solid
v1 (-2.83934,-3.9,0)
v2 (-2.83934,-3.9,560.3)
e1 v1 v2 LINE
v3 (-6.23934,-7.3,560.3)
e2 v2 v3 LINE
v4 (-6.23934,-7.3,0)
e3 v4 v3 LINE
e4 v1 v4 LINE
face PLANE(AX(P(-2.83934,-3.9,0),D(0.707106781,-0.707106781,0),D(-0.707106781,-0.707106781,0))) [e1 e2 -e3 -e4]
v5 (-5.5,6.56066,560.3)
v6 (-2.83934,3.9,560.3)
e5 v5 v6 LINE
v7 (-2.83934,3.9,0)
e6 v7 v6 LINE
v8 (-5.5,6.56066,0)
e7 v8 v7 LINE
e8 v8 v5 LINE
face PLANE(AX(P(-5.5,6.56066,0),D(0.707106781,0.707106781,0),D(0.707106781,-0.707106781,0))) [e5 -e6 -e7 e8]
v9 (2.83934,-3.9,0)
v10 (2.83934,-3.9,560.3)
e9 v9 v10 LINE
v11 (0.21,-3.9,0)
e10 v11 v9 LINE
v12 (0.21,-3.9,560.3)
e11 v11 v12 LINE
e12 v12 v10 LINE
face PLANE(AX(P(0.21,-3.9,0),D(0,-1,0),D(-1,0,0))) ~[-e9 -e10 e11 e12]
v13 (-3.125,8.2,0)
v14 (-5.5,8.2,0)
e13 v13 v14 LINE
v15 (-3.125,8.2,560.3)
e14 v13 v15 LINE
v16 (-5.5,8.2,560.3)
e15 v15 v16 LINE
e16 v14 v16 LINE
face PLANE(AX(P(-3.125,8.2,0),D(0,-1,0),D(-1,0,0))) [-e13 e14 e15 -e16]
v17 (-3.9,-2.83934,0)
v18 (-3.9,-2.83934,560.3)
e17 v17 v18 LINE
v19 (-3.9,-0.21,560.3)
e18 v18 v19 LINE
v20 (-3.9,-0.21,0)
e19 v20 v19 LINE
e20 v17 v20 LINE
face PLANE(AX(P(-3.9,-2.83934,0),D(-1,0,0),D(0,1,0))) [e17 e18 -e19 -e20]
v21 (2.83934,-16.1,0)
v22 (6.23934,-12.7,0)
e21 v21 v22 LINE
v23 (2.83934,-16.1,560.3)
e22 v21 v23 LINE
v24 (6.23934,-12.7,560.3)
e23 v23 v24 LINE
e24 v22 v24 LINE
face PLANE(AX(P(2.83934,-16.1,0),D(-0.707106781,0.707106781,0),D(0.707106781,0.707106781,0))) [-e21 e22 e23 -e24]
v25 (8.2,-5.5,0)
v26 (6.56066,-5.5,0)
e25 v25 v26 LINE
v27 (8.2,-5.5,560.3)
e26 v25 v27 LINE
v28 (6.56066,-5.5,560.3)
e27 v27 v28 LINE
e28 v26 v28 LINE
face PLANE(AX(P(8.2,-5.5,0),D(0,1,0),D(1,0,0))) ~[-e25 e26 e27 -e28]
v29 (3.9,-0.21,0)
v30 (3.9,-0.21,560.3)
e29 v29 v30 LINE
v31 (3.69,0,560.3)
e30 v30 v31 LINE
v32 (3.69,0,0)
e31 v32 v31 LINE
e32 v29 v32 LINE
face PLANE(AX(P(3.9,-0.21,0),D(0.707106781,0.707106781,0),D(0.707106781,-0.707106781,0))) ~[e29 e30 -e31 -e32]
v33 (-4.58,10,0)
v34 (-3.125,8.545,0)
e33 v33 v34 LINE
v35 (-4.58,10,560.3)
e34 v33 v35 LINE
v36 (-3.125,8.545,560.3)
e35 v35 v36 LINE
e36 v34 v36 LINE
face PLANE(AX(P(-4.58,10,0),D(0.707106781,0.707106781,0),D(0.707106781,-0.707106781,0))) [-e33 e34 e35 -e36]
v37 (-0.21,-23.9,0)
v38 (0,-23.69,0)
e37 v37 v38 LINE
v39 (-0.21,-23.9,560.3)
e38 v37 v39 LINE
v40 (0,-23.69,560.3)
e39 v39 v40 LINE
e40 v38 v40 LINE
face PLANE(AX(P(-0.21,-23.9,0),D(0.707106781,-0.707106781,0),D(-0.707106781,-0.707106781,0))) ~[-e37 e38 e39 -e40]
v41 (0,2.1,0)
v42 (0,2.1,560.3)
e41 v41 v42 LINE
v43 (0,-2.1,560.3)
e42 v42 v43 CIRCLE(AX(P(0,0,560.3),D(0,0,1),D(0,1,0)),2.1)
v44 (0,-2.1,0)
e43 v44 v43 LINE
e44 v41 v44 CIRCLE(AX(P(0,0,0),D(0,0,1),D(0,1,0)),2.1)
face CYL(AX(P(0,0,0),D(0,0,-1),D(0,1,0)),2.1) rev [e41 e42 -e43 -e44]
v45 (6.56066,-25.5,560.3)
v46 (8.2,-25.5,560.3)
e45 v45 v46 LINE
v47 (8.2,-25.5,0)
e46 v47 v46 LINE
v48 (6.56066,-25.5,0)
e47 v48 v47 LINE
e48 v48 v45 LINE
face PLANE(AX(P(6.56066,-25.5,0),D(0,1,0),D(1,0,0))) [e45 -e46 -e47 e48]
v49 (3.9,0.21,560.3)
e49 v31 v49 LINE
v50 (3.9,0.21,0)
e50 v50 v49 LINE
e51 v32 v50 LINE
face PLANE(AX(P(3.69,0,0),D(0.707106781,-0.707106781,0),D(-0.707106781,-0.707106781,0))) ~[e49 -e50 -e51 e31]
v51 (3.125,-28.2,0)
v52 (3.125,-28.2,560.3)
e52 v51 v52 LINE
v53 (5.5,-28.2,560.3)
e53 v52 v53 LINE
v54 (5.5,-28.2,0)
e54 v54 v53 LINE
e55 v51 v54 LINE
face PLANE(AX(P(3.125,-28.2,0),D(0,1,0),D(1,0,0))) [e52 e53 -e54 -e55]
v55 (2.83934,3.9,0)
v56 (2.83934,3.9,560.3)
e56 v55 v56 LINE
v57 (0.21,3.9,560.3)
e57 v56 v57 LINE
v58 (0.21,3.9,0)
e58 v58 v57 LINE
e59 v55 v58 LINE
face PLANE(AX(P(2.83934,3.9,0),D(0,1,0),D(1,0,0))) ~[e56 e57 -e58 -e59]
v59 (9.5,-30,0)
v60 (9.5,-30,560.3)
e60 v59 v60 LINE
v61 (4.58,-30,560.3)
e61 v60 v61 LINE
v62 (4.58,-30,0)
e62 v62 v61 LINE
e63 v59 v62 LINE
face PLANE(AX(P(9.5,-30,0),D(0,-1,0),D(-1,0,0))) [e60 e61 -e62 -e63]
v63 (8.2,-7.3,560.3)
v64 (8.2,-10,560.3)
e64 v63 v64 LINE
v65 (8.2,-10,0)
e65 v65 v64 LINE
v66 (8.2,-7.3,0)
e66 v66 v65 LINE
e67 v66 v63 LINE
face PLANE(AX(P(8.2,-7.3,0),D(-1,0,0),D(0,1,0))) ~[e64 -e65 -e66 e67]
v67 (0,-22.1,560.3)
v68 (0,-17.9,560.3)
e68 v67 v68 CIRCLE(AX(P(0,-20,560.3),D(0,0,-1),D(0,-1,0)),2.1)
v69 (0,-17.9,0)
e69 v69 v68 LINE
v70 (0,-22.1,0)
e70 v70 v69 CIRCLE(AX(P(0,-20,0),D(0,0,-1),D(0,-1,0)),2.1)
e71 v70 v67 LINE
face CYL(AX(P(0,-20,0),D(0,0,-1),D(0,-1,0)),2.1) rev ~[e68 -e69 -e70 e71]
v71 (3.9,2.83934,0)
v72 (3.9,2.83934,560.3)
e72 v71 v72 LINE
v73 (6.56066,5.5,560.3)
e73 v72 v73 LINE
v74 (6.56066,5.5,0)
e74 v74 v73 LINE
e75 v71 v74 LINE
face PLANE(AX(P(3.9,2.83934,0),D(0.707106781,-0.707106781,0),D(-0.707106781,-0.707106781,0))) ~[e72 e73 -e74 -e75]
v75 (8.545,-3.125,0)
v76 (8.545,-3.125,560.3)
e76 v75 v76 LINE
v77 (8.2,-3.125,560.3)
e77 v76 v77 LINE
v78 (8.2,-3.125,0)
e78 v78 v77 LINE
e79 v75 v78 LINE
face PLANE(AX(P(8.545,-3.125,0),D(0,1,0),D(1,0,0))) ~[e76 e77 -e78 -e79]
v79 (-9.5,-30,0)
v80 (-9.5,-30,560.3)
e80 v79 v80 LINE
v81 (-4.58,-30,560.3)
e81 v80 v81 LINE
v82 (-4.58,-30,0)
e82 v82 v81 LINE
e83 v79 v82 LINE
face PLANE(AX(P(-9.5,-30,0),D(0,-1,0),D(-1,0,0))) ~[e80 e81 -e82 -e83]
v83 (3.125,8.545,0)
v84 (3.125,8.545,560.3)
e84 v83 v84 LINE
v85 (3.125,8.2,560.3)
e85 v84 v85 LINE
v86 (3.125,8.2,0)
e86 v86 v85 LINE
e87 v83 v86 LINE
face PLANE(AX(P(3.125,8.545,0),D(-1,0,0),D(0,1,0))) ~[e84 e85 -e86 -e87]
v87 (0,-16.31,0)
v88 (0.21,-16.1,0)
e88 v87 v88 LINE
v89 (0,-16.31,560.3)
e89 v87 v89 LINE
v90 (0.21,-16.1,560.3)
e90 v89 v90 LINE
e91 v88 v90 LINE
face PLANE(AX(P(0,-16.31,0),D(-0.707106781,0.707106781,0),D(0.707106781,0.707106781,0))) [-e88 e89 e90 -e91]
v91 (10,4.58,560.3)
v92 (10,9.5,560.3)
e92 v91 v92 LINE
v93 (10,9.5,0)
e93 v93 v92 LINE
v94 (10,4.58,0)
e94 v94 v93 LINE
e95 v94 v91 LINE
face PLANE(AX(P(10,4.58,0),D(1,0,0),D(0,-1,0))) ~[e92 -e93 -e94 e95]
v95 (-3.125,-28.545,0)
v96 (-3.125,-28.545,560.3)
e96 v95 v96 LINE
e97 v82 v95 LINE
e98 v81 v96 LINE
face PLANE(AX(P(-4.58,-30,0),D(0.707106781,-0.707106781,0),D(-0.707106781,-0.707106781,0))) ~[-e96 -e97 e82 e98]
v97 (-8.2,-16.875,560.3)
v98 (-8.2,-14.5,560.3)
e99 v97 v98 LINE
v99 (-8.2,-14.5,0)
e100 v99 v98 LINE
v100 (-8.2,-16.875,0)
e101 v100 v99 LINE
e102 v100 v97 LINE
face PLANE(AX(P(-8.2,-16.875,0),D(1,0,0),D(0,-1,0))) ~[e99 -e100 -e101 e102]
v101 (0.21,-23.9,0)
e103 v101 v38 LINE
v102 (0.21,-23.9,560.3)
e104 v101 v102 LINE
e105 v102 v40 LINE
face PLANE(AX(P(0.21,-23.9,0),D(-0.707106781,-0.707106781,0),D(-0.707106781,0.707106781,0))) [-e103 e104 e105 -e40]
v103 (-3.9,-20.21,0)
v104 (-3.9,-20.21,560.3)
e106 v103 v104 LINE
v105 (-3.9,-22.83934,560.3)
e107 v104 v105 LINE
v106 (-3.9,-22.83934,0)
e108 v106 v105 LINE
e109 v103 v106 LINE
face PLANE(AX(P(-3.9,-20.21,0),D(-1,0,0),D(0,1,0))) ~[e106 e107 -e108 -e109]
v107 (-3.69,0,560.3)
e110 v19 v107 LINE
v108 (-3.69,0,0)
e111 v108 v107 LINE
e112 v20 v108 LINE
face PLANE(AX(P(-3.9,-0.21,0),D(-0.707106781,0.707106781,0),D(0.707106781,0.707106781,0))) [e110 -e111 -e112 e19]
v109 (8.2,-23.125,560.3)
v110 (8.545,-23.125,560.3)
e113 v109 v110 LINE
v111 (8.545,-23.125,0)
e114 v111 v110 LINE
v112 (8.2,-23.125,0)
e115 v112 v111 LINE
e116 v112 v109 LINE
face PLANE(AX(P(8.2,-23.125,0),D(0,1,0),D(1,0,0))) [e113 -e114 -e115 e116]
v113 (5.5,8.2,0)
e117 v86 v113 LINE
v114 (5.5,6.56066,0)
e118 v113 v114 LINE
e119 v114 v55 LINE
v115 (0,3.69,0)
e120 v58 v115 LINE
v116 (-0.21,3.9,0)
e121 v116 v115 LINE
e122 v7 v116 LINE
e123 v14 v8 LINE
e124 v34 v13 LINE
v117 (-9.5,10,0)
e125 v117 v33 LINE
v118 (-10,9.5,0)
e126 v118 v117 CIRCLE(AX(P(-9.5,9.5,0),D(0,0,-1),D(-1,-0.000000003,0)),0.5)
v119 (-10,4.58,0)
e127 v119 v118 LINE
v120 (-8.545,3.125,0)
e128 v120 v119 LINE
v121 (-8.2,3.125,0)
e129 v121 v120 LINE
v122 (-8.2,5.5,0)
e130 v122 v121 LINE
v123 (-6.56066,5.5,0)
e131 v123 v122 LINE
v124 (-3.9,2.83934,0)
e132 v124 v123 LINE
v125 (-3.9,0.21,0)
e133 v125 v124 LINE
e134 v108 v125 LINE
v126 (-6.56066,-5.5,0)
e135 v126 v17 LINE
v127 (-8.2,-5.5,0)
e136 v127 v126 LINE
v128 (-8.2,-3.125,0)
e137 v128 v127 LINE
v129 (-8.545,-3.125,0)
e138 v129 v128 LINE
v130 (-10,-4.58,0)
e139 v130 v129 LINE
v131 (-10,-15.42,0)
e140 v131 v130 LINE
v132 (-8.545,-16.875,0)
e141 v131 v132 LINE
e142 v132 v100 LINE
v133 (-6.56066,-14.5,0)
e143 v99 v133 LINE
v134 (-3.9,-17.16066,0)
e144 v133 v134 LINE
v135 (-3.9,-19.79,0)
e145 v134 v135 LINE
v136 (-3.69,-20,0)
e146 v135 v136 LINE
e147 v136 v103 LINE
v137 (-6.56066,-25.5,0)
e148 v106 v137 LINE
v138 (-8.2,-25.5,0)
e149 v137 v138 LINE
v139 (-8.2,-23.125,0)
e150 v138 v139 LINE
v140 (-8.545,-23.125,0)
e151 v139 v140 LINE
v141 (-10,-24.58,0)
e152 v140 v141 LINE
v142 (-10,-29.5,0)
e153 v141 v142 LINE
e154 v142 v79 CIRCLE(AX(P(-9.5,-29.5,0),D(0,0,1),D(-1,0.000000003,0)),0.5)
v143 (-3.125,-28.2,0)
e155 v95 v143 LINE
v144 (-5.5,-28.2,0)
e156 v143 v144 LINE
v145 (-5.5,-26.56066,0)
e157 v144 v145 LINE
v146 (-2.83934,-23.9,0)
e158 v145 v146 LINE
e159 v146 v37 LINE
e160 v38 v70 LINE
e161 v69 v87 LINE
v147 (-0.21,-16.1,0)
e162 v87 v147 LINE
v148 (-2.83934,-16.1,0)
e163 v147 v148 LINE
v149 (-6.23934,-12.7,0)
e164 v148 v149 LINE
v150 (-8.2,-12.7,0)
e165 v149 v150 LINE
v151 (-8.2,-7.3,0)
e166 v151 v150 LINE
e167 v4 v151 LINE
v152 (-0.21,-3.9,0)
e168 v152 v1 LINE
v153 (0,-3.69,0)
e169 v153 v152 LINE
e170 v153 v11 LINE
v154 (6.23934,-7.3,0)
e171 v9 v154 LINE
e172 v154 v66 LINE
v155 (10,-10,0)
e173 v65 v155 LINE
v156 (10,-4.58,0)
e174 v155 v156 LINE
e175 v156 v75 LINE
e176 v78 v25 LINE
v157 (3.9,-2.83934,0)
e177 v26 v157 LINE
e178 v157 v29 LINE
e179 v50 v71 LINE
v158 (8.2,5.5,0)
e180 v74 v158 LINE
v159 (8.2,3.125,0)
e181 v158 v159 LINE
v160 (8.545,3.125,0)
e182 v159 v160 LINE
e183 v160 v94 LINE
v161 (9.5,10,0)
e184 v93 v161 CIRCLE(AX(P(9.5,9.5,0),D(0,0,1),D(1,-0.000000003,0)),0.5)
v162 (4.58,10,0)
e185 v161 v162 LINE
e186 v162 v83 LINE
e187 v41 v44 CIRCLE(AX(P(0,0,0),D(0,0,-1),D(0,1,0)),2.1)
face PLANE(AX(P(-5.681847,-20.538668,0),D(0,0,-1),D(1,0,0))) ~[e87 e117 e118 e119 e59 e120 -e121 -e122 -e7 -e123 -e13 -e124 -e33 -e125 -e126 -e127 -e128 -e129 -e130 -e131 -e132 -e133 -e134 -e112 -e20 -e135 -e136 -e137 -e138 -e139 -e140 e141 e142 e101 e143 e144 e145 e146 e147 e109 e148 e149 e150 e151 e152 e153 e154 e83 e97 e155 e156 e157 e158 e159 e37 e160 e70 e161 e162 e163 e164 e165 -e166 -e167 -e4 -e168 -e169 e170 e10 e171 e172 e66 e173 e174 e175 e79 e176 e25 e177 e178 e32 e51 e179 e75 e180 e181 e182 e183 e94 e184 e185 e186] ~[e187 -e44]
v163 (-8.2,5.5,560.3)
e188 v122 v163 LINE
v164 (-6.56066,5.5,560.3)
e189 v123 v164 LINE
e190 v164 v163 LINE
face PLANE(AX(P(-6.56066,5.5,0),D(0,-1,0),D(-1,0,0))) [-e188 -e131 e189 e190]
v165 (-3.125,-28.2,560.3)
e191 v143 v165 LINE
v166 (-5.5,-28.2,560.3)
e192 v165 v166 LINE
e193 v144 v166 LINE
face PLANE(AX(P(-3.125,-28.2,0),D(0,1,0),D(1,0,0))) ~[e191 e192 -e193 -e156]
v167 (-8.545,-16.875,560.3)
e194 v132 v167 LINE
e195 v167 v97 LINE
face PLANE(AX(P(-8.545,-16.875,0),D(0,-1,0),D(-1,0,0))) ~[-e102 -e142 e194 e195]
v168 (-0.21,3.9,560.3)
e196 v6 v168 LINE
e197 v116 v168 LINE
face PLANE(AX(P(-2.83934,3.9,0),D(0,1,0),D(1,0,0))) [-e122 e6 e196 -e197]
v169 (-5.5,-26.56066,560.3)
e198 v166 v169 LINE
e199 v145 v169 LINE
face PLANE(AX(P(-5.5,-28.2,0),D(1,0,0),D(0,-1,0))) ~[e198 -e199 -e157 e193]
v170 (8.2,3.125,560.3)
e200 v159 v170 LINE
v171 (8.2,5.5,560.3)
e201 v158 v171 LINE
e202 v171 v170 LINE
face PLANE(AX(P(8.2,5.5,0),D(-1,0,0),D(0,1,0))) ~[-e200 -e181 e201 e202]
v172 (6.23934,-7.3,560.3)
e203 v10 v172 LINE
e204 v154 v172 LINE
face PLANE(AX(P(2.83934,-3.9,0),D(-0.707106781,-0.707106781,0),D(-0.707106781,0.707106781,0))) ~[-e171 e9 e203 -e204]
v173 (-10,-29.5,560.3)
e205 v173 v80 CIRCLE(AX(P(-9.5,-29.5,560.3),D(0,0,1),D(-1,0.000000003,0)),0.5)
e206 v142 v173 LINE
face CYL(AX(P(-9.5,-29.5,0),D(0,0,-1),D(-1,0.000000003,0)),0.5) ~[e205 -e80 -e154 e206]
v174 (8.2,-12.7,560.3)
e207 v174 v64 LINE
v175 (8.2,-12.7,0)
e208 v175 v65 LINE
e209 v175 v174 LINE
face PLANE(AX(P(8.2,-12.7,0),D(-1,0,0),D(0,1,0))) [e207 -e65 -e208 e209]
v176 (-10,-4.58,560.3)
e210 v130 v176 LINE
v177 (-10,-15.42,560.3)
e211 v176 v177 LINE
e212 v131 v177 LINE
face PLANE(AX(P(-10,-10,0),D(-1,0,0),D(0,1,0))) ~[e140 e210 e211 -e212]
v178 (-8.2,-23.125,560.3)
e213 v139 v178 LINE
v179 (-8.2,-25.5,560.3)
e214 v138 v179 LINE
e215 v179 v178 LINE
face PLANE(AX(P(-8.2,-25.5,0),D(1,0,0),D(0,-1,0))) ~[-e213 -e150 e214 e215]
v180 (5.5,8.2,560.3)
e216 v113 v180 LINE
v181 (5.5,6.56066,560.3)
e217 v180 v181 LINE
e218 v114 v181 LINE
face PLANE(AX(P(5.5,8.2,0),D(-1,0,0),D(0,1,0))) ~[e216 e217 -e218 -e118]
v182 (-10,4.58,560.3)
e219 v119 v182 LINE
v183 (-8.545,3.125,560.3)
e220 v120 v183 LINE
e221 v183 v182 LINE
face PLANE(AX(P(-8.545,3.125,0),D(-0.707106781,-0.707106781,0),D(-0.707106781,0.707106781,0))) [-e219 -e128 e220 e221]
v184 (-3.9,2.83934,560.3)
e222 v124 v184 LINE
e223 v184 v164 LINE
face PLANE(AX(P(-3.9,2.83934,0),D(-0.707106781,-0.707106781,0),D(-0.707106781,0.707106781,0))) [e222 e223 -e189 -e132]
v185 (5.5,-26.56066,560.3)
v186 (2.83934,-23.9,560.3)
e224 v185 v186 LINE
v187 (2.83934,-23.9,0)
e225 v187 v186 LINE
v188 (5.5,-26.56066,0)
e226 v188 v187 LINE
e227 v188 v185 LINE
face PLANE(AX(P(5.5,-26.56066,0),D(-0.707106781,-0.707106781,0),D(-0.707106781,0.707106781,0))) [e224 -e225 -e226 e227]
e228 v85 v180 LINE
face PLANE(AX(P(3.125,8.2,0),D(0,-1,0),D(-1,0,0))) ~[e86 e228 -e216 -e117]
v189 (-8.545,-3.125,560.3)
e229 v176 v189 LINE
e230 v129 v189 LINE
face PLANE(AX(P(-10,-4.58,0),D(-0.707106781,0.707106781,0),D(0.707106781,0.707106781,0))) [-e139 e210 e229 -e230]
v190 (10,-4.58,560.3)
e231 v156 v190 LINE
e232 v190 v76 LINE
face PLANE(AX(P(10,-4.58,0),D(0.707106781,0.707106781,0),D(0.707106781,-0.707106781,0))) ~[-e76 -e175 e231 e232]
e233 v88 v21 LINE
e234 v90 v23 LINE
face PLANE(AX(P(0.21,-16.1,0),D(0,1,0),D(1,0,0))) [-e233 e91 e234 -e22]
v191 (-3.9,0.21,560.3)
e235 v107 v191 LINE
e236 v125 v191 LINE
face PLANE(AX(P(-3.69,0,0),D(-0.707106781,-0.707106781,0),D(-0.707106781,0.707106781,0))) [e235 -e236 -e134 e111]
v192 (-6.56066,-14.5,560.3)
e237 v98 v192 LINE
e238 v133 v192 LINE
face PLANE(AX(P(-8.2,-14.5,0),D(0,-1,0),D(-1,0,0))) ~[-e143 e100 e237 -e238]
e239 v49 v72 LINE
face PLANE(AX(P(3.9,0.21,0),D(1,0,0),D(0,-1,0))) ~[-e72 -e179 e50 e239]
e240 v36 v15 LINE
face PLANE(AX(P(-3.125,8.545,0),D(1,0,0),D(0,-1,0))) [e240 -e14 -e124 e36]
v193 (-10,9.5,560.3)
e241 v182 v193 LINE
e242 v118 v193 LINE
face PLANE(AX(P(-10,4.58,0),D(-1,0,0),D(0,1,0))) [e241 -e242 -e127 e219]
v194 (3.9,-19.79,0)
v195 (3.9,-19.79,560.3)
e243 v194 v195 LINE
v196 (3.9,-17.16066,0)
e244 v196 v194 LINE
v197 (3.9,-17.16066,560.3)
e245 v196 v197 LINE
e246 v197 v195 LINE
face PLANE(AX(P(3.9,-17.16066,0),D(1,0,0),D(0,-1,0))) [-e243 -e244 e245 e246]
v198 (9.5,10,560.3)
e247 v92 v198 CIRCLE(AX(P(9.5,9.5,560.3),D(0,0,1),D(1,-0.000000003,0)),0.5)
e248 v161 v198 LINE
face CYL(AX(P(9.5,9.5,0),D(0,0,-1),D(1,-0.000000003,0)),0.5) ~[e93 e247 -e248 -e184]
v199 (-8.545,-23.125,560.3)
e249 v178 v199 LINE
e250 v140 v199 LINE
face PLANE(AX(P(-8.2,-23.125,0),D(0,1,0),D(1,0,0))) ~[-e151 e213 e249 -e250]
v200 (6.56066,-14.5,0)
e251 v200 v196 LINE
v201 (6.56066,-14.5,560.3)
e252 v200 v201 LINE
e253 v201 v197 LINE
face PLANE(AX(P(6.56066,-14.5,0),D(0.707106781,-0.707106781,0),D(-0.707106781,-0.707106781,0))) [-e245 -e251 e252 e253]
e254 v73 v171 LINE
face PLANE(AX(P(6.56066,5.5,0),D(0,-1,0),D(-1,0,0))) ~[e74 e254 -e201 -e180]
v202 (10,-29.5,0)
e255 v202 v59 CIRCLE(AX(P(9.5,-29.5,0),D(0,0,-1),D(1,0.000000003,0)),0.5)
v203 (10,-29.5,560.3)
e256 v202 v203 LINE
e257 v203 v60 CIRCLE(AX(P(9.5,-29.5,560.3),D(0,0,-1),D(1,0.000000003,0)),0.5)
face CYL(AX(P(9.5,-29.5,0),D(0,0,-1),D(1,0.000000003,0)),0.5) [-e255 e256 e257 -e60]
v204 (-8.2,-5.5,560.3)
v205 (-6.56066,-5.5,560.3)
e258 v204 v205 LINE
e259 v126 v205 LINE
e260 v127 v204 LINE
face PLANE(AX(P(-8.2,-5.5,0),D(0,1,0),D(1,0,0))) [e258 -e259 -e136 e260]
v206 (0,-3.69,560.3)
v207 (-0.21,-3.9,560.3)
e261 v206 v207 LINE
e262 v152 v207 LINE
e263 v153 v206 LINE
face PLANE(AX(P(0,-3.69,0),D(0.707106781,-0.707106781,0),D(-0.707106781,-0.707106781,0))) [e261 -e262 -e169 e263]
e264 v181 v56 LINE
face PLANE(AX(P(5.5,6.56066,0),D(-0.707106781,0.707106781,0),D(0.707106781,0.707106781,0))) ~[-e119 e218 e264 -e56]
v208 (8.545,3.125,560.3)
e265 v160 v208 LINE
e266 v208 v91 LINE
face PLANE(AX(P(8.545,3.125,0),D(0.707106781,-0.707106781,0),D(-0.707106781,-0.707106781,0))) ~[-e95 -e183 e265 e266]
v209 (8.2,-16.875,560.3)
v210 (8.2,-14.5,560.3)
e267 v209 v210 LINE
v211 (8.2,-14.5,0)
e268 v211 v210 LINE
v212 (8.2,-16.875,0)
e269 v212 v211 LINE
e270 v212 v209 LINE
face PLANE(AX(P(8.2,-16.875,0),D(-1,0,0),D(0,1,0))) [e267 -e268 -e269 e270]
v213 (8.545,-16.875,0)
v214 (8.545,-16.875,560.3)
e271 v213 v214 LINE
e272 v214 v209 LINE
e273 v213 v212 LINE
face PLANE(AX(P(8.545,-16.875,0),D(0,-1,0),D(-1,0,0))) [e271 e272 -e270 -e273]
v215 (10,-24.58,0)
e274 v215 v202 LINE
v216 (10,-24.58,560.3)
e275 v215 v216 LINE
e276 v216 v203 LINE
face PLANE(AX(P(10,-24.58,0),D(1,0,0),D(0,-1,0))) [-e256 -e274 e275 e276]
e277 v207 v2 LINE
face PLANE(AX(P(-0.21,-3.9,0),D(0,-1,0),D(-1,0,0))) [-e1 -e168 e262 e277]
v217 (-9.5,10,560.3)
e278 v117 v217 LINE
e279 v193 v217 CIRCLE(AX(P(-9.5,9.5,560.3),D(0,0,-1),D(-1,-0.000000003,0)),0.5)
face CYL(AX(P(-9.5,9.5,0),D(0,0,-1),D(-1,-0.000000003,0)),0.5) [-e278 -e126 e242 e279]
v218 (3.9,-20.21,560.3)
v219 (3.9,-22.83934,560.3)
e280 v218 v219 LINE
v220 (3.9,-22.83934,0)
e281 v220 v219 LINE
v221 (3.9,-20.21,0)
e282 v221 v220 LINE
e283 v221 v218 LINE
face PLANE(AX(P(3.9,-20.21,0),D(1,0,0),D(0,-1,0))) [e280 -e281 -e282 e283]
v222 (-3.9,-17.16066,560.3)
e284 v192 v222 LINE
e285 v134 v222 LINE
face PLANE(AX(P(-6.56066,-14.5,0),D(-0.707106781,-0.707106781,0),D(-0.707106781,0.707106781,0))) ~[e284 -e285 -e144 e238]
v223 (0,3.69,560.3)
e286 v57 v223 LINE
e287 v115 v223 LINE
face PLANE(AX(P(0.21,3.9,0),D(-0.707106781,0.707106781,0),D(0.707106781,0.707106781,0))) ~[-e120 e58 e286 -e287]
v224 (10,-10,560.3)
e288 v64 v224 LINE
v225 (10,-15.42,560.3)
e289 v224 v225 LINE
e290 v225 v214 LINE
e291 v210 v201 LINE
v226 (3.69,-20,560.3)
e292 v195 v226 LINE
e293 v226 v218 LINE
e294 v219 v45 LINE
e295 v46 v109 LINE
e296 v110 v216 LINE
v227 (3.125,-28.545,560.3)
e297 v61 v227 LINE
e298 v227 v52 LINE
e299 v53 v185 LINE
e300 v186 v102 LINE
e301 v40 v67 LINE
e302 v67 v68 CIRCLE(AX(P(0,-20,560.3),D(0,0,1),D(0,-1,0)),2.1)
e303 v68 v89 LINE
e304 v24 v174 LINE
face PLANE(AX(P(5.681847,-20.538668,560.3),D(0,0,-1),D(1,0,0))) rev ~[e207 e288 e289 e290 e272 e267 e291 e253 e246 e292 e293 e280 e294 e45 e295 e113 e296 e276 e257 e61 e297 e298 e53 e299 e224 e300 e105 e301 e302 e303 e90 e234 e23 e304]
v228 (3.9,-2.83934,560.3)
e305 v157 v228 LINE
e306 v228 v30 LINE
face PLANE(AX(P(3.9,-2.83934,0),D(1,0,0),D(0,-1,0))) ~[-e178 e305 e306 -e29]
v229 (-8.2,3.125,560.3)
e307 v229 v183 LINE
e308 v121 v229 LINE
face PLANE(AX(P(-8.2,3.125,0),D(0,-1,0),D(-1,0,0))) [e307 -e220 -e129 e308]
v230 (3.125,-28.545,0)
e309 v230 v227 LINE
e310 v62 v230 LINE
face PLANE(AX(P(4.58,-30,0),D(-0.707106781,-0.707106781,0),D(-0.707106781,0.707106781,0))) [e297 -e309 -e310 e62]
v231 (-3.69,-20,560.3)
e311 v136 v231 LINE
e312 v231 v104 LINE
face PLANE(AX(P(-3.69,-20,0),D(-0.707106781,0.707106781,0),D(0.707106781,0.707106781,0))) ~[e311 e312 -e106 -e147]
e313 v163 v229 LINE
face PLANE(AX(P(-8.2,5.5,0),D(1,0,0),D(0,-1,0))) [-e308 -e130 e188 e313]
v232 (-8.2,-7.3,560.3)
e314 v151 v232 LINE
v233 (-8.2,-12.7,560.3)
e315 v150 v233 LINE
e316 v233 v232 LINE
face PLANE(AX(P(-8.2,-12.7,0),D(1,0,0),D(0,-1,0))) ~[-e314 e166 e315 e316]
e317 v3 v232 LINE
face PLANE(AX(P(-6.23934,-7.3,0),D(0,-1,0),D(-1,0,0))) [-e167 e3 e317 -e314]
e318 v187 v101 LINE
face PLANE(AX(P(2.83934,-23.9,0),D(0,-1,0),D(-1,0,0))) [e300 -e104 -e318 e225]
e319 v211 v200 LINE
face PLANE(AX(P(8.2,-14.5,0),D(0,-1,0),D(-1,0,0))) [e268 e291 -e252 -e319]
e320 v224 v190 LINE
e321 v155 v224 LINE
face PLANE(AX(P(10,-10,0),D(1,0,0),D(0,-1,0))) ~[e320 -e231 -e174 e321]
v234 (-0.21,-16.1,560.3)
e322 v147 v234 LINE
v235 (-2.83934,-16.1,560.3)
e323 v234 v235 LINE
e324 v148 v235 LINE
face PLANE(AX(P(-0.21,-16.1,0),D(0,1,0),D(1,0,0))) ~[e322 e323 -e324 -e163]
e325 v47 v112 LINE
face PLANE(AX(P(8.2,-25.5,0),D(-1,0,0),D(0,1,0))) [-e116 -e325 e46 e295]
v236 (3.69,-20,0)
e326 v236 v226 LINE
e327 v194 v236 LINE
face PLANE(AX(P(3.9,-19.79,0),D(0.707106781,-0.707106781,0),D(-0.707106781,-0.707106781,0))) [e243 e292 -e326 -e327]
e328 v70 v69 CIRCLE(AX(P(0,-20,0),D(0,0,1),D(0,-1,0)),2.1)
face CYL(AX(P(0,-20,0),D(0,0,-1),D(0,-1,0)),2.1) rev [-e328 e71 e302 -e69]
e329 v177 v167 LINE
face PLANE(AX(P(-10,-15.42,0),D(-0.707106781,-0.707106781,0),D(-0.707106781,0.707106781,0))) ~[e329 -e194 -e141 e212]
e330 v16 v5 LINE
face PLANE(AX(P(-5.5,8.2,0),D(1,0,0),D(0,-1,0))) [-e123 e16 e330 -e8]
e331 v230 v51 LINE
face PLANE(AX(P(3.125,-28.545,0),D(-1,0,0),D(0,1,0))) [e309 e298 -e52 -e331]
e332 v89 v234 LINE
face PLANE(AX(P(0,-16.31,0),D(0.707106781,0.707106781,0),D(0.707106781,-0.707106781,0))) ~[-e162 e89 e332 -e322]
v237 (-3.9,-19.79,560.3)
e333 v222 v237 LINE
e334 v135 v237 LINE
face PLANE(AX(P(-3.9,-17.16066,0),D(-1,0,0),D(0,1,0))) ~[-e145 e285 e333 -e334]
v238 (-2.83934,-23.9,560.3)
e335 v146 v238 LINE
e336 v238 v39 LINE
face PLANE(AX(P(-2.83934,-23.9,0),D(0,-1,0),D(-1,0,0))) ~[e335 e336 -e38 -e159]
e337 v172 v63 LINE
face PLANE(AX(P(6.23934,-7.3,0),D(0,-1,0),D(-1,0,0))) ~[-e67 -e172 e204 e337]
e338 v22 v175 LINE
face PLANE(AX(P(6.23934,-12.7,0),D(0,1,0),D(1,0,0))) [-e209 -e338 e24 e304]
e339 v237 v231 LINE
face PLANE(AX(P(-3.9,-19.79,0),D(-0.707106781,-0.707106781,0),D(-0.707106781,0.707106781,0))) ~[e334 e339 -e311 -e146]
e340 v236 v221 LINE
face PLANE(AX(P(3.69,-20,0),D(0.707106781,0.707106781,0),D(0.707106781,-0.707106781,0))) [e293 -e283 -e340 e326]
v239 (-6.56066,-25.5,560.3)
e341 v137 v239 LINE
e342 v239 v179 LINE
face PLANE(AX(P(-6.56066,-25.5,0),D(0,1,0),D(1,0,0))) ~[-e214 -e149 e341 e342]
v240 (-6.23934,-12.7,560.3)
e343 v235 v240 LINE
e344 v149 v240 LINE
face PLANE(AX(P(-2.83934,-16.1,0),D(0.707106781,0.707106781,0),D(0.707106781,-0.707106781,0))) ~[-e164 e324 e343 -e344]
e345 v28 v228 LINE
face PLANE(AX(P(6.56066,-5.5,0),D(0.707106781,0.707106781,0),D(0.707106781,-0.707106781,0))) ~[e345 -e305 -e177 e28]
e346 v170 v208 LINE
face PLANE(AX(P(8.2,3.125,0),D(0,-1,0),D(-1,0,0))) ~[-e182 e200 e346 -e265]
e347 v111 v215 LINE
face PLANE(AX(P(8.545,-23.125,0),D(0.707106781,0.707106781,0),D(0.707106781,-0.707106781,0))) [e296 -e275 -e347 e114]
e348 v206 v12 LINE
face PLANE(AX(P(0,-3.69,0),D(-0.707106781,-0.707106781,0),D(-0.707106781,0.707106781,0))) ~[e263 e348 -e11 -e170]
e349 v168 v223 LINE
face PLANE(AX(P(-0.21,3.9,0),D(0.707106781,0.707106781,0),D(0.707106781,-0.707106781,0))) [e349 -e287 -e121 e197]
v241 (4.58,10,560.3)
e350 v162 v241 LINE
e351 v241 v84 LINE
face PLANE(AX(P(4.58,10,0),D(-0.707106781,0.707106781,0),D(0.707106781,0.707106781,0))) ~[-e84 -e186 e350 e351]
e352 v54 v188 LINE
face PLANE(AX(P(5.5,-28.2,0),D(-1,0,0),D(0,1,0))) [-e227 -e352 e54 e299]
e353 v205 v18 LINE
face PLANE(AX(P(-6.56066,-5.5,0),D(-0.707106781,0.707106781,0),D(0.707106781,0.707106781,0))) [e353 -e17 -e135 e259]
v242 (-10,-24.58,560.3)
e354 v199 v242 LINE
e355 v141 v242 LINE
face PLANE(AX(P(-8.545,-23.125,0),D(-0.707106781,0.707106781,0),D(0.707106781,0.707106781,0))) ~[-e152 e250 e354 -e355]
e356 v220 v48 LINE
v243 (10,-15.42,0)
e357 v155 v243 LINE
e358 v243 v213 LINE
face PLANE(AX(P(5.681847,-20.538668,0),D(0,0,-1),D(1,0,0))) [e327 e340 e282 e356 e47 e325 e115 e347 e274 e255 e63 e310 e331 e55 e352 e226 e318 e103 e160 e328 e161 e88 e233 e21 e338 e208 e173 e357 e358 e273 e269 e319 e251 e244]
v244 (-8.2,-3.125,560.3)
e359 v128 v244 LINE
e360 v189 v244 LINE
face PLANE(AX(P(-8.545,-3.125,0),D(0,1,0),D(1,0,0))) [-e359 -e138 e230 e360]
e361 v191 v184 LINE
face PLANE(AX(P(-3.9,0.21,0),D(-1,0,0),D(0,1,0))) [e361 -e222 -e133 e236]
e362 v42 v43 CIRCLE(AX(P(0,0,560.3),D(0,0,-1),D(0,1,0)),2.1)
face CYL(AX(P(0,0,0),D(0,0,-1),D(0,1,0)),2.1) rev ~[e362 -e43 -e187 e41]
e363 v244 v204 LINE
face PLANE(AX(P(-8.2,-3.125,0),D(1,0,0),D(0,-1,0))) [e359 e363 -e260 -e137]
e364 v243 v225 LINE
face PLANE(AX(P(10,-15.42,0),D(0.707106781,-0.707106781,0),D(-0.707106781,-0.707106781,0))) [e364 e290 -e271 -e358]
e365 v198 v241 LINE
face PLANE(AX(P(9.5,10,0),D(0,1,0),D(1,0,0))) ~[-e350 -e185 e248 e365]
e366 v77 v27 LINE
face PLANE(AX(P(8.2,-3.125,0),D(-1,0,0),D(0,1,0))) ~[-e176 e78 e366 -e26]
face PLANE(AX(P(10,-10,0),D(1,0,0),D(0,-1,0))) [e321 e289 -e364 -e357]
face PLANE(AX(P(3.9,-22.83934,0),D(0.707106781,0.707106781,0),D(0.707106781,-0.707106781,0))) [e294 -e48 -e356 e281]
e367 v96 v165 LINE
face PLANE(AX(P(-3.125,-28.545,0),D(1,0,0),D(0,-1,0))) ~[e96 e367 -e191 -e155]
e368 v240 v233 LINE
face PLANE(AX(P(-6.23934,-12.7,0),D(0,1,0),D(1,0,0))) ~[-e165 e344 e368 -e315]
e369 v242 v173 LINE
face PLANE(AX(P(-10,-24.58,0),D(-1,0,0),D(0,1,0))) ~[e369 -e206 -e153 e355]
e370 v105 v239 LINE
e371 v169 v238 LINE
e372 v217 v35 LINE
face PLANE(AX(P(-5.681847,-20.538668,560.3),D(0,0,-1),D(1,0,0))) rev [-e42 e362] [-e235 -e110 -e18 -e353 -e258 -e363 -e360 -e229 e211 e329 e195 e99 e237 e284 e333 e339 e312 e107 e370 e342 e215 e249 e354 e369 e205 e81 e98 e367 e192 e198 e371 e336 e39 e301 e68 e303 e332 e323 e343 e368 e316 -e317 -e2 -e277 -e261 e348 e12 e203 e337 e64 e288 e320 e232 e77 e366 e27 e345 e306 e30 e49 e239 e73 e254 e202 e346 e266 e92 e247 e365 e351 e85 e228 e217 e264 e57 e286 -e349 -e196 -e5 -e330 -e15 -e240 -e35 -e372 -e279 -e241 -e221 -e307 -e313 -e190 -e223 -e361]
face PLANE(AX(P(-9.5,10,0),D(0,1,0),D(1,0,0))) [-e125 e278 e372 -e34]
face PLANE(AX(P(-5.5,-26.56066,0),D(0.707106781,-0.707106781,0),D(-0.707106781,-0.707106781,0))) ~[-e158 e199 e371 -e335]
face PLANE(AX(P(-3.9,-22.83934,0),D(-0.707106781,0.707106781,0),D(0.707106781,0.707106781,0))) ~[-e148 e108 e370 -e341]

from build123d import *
from build123d.topology import SkipClean

# Parameters (mm, degrees)
BOSS_EXTRU_1_DEPTH     = 560.3
SYM_TRIE6_COPY_1_DEPTH = 560.3


with BuildPart() as part:
    # Esquisse1 → Boss.-Extru.1 (new body)
    with BuildSketch(Plane.XY):
        with BuildLine():
            Line((-9.5, 10), (-4.58, 10))
            Line((-4.58, 10), (-3.125, 8.545))
            Line((-3.125, 8.545), (-3.125, 8.2))
            Line((-3.125, 8.2), (-5.5, 8.2))
            Line((-5.5, 8.2), (-5.5, 6.560660172))
            Line((-5.5, 6.560660172), (-2.839339828, 3.9))
            Line((-2.839339828, 3.9), (-0.21, 3.9))
            Line((-0.21, 3.9), (0, 3.69))
            Line((0, 3.69), (0, 2.1))
            ThreePointArc((0, 2.1), (-2.1, 0), (0, -2.1))
            Line((0, -2.1), (0, -3.69))
            Line((0, -3.69), (-0.21, -3.9))
            Line((-0.21, -3.9), (-2.839339828, -3.9))
            Line((-2.839339828, -3.9), (-6.239339828, -7.3))
            Line((-6.239339828, -7.3), (-8.2, -7.3))
            Line((-8.2, -7.3), (-8.2, -10))
            Line((-8.2, -10), (-10, -10))
            Line((-10, -10), (-10, -4.58))
            Line((-10, -4.58), (-8.545, -3.125))
            Line((-8.545, -3.125), (-8.2, -3.125))
            Line((-8.2, -3.125), (-8.2, -5.5))
            Line((-8.2, -5.5), (-6.560660172, -5.5))
            Line((-6.560660172, -5.5), (-3.9, -2.839339828))
            Line((-3.9, -2.839339828), (-3.9, -0.21))
            Line((-3.9, -0.21), (-3.69, 0))
            Line((-3.69, 0), (-3.9, 0.21))
            Line((-3.9, 0.21), (-3.9, 2.839339828))
            Line((-3.9, 2.839339828), (-6.560660172, 5.5))
            Line((-6.560660172, 5.5), (-8.2, 5.5))
            Line((-8.2, 5.5), (-8.2, 3.125))
            Line((-8.2, 3.125), (-8.545, 3.125))
            Line((-8.545, 3.125), (-10, 4.58))
            Line((-10, 4.58), (-10, 9.5))
            ThreePointArc((-10, 9.5), (-9.853553391, 9.853553391), (-9.5, 10))
        make_face()
    boss_extru_1 = extrude(amount=BOSS_EXTRU_1_DEPTH)

    # Symétrie1: Boss.-Extru.1 across plane
    add(boss_extru_1.mirror(Plane(origin=(0, 3.69, 560.3), x_dir=(0, 0, 1), z_dir=(-1, 0, 0))))

    # Symétrie6: Boss.-Extru.1 across plane
    add(boss_extru_1.mirror(Plane(origin=(-8.2, -10, 560.3), x_dir=(0, 0, 1), z_dir=(0, 1, 0))))

    # Symétrie6 copy 1 sketch → Symétrie6 copy 1 (add)
    with SkipClean():  # the faces are left unmerged after this step: merging them gives an invalid solid
        with BuildSketch(Plane(origin=(0, -20, 0), x_dir=(-1, 0, 0), z_dir=(0, 0, 1))):
            with BuildLine():
                Line((-9.5, 10), (-4.58, 10))
                Line((-4.58, 10), (-3.125, 8.545))
                Line((-3.125, 8.545), (-3.125, 8.2))
                Line((-3.125, 8.2), (-5.5, 8.2))
                Line((-5.5, 8.2), (-5.5, 6.560660172))
                Line((-5.5, 6.560660172), (-2.839339828, 3.9))
                Line((-2.839339828, 3.9), (-0.21, 3.9))
                Line((-0.21, 3.9), (0, 3.69))
                Line((0, 3.69), (0, 2.1))
                ThreePointArc((0, 2.1), (-2.1, 0), (0, -2.1))
                Line((0, -2.1), (0, -3.69))
                Line((0, -3.69), (-0.21, -3.9))
                Line((-0.21, -3.9), (-2.839339828, -3.9))
                Line((-2.839339828, -3.9), (-6.239339828, -7.3))
                Line((-6.239339828, -7.3), (-8.2, -7.3))
                Line((-8.2, -7.3), (-8.2, -10))
                Line((-8.2, -10), (-10, -10))
                Line((-10, -10), (-10, -4.58))
                Line((-10, -4.58), (-8.545, -3.125))
                Line((-8.545, -3.125), (-8.2, -3.125))
                Line((-8.2, -3.125), (-8.2, -5.5))
                Line((-8.2, -5.5), (-6.560660172, -5.5))
                Line((-6.560660172, -5.5), (-3.9, -2.839339828))
                Line((-3.9, -2.839339828), (-3.9, -0.21))
                Line((-3.9, -0.21), (-3.69, 0))
                Line((-3.69, 0), (-3.9, 0.21))
                Line((-3.9, 0.21), (-3.9, 2.839339828))
                Line((-3.9, 2.839339828), (-6.560660172, 5.5))
                Line((-6.560660172, 5.5), (-8.2, 5.5))
                Line((-8.2, 5.5), (-8.2, 3.125))
                Line((-8.2, 3.125), (-8.545, 3.125))
                Line((-8.545, 3.125), (-10, 4.58))
                Line((-10, 4.58), (-10, 9.5))
                ThreePointArc((-10, 9.5), (-9.853553391, 9.853553391), (-9.5, 10))
            make_face()
        extrude(amount=SYM_TRIE6_COPY_1_DEPTH)


solid = part.part
